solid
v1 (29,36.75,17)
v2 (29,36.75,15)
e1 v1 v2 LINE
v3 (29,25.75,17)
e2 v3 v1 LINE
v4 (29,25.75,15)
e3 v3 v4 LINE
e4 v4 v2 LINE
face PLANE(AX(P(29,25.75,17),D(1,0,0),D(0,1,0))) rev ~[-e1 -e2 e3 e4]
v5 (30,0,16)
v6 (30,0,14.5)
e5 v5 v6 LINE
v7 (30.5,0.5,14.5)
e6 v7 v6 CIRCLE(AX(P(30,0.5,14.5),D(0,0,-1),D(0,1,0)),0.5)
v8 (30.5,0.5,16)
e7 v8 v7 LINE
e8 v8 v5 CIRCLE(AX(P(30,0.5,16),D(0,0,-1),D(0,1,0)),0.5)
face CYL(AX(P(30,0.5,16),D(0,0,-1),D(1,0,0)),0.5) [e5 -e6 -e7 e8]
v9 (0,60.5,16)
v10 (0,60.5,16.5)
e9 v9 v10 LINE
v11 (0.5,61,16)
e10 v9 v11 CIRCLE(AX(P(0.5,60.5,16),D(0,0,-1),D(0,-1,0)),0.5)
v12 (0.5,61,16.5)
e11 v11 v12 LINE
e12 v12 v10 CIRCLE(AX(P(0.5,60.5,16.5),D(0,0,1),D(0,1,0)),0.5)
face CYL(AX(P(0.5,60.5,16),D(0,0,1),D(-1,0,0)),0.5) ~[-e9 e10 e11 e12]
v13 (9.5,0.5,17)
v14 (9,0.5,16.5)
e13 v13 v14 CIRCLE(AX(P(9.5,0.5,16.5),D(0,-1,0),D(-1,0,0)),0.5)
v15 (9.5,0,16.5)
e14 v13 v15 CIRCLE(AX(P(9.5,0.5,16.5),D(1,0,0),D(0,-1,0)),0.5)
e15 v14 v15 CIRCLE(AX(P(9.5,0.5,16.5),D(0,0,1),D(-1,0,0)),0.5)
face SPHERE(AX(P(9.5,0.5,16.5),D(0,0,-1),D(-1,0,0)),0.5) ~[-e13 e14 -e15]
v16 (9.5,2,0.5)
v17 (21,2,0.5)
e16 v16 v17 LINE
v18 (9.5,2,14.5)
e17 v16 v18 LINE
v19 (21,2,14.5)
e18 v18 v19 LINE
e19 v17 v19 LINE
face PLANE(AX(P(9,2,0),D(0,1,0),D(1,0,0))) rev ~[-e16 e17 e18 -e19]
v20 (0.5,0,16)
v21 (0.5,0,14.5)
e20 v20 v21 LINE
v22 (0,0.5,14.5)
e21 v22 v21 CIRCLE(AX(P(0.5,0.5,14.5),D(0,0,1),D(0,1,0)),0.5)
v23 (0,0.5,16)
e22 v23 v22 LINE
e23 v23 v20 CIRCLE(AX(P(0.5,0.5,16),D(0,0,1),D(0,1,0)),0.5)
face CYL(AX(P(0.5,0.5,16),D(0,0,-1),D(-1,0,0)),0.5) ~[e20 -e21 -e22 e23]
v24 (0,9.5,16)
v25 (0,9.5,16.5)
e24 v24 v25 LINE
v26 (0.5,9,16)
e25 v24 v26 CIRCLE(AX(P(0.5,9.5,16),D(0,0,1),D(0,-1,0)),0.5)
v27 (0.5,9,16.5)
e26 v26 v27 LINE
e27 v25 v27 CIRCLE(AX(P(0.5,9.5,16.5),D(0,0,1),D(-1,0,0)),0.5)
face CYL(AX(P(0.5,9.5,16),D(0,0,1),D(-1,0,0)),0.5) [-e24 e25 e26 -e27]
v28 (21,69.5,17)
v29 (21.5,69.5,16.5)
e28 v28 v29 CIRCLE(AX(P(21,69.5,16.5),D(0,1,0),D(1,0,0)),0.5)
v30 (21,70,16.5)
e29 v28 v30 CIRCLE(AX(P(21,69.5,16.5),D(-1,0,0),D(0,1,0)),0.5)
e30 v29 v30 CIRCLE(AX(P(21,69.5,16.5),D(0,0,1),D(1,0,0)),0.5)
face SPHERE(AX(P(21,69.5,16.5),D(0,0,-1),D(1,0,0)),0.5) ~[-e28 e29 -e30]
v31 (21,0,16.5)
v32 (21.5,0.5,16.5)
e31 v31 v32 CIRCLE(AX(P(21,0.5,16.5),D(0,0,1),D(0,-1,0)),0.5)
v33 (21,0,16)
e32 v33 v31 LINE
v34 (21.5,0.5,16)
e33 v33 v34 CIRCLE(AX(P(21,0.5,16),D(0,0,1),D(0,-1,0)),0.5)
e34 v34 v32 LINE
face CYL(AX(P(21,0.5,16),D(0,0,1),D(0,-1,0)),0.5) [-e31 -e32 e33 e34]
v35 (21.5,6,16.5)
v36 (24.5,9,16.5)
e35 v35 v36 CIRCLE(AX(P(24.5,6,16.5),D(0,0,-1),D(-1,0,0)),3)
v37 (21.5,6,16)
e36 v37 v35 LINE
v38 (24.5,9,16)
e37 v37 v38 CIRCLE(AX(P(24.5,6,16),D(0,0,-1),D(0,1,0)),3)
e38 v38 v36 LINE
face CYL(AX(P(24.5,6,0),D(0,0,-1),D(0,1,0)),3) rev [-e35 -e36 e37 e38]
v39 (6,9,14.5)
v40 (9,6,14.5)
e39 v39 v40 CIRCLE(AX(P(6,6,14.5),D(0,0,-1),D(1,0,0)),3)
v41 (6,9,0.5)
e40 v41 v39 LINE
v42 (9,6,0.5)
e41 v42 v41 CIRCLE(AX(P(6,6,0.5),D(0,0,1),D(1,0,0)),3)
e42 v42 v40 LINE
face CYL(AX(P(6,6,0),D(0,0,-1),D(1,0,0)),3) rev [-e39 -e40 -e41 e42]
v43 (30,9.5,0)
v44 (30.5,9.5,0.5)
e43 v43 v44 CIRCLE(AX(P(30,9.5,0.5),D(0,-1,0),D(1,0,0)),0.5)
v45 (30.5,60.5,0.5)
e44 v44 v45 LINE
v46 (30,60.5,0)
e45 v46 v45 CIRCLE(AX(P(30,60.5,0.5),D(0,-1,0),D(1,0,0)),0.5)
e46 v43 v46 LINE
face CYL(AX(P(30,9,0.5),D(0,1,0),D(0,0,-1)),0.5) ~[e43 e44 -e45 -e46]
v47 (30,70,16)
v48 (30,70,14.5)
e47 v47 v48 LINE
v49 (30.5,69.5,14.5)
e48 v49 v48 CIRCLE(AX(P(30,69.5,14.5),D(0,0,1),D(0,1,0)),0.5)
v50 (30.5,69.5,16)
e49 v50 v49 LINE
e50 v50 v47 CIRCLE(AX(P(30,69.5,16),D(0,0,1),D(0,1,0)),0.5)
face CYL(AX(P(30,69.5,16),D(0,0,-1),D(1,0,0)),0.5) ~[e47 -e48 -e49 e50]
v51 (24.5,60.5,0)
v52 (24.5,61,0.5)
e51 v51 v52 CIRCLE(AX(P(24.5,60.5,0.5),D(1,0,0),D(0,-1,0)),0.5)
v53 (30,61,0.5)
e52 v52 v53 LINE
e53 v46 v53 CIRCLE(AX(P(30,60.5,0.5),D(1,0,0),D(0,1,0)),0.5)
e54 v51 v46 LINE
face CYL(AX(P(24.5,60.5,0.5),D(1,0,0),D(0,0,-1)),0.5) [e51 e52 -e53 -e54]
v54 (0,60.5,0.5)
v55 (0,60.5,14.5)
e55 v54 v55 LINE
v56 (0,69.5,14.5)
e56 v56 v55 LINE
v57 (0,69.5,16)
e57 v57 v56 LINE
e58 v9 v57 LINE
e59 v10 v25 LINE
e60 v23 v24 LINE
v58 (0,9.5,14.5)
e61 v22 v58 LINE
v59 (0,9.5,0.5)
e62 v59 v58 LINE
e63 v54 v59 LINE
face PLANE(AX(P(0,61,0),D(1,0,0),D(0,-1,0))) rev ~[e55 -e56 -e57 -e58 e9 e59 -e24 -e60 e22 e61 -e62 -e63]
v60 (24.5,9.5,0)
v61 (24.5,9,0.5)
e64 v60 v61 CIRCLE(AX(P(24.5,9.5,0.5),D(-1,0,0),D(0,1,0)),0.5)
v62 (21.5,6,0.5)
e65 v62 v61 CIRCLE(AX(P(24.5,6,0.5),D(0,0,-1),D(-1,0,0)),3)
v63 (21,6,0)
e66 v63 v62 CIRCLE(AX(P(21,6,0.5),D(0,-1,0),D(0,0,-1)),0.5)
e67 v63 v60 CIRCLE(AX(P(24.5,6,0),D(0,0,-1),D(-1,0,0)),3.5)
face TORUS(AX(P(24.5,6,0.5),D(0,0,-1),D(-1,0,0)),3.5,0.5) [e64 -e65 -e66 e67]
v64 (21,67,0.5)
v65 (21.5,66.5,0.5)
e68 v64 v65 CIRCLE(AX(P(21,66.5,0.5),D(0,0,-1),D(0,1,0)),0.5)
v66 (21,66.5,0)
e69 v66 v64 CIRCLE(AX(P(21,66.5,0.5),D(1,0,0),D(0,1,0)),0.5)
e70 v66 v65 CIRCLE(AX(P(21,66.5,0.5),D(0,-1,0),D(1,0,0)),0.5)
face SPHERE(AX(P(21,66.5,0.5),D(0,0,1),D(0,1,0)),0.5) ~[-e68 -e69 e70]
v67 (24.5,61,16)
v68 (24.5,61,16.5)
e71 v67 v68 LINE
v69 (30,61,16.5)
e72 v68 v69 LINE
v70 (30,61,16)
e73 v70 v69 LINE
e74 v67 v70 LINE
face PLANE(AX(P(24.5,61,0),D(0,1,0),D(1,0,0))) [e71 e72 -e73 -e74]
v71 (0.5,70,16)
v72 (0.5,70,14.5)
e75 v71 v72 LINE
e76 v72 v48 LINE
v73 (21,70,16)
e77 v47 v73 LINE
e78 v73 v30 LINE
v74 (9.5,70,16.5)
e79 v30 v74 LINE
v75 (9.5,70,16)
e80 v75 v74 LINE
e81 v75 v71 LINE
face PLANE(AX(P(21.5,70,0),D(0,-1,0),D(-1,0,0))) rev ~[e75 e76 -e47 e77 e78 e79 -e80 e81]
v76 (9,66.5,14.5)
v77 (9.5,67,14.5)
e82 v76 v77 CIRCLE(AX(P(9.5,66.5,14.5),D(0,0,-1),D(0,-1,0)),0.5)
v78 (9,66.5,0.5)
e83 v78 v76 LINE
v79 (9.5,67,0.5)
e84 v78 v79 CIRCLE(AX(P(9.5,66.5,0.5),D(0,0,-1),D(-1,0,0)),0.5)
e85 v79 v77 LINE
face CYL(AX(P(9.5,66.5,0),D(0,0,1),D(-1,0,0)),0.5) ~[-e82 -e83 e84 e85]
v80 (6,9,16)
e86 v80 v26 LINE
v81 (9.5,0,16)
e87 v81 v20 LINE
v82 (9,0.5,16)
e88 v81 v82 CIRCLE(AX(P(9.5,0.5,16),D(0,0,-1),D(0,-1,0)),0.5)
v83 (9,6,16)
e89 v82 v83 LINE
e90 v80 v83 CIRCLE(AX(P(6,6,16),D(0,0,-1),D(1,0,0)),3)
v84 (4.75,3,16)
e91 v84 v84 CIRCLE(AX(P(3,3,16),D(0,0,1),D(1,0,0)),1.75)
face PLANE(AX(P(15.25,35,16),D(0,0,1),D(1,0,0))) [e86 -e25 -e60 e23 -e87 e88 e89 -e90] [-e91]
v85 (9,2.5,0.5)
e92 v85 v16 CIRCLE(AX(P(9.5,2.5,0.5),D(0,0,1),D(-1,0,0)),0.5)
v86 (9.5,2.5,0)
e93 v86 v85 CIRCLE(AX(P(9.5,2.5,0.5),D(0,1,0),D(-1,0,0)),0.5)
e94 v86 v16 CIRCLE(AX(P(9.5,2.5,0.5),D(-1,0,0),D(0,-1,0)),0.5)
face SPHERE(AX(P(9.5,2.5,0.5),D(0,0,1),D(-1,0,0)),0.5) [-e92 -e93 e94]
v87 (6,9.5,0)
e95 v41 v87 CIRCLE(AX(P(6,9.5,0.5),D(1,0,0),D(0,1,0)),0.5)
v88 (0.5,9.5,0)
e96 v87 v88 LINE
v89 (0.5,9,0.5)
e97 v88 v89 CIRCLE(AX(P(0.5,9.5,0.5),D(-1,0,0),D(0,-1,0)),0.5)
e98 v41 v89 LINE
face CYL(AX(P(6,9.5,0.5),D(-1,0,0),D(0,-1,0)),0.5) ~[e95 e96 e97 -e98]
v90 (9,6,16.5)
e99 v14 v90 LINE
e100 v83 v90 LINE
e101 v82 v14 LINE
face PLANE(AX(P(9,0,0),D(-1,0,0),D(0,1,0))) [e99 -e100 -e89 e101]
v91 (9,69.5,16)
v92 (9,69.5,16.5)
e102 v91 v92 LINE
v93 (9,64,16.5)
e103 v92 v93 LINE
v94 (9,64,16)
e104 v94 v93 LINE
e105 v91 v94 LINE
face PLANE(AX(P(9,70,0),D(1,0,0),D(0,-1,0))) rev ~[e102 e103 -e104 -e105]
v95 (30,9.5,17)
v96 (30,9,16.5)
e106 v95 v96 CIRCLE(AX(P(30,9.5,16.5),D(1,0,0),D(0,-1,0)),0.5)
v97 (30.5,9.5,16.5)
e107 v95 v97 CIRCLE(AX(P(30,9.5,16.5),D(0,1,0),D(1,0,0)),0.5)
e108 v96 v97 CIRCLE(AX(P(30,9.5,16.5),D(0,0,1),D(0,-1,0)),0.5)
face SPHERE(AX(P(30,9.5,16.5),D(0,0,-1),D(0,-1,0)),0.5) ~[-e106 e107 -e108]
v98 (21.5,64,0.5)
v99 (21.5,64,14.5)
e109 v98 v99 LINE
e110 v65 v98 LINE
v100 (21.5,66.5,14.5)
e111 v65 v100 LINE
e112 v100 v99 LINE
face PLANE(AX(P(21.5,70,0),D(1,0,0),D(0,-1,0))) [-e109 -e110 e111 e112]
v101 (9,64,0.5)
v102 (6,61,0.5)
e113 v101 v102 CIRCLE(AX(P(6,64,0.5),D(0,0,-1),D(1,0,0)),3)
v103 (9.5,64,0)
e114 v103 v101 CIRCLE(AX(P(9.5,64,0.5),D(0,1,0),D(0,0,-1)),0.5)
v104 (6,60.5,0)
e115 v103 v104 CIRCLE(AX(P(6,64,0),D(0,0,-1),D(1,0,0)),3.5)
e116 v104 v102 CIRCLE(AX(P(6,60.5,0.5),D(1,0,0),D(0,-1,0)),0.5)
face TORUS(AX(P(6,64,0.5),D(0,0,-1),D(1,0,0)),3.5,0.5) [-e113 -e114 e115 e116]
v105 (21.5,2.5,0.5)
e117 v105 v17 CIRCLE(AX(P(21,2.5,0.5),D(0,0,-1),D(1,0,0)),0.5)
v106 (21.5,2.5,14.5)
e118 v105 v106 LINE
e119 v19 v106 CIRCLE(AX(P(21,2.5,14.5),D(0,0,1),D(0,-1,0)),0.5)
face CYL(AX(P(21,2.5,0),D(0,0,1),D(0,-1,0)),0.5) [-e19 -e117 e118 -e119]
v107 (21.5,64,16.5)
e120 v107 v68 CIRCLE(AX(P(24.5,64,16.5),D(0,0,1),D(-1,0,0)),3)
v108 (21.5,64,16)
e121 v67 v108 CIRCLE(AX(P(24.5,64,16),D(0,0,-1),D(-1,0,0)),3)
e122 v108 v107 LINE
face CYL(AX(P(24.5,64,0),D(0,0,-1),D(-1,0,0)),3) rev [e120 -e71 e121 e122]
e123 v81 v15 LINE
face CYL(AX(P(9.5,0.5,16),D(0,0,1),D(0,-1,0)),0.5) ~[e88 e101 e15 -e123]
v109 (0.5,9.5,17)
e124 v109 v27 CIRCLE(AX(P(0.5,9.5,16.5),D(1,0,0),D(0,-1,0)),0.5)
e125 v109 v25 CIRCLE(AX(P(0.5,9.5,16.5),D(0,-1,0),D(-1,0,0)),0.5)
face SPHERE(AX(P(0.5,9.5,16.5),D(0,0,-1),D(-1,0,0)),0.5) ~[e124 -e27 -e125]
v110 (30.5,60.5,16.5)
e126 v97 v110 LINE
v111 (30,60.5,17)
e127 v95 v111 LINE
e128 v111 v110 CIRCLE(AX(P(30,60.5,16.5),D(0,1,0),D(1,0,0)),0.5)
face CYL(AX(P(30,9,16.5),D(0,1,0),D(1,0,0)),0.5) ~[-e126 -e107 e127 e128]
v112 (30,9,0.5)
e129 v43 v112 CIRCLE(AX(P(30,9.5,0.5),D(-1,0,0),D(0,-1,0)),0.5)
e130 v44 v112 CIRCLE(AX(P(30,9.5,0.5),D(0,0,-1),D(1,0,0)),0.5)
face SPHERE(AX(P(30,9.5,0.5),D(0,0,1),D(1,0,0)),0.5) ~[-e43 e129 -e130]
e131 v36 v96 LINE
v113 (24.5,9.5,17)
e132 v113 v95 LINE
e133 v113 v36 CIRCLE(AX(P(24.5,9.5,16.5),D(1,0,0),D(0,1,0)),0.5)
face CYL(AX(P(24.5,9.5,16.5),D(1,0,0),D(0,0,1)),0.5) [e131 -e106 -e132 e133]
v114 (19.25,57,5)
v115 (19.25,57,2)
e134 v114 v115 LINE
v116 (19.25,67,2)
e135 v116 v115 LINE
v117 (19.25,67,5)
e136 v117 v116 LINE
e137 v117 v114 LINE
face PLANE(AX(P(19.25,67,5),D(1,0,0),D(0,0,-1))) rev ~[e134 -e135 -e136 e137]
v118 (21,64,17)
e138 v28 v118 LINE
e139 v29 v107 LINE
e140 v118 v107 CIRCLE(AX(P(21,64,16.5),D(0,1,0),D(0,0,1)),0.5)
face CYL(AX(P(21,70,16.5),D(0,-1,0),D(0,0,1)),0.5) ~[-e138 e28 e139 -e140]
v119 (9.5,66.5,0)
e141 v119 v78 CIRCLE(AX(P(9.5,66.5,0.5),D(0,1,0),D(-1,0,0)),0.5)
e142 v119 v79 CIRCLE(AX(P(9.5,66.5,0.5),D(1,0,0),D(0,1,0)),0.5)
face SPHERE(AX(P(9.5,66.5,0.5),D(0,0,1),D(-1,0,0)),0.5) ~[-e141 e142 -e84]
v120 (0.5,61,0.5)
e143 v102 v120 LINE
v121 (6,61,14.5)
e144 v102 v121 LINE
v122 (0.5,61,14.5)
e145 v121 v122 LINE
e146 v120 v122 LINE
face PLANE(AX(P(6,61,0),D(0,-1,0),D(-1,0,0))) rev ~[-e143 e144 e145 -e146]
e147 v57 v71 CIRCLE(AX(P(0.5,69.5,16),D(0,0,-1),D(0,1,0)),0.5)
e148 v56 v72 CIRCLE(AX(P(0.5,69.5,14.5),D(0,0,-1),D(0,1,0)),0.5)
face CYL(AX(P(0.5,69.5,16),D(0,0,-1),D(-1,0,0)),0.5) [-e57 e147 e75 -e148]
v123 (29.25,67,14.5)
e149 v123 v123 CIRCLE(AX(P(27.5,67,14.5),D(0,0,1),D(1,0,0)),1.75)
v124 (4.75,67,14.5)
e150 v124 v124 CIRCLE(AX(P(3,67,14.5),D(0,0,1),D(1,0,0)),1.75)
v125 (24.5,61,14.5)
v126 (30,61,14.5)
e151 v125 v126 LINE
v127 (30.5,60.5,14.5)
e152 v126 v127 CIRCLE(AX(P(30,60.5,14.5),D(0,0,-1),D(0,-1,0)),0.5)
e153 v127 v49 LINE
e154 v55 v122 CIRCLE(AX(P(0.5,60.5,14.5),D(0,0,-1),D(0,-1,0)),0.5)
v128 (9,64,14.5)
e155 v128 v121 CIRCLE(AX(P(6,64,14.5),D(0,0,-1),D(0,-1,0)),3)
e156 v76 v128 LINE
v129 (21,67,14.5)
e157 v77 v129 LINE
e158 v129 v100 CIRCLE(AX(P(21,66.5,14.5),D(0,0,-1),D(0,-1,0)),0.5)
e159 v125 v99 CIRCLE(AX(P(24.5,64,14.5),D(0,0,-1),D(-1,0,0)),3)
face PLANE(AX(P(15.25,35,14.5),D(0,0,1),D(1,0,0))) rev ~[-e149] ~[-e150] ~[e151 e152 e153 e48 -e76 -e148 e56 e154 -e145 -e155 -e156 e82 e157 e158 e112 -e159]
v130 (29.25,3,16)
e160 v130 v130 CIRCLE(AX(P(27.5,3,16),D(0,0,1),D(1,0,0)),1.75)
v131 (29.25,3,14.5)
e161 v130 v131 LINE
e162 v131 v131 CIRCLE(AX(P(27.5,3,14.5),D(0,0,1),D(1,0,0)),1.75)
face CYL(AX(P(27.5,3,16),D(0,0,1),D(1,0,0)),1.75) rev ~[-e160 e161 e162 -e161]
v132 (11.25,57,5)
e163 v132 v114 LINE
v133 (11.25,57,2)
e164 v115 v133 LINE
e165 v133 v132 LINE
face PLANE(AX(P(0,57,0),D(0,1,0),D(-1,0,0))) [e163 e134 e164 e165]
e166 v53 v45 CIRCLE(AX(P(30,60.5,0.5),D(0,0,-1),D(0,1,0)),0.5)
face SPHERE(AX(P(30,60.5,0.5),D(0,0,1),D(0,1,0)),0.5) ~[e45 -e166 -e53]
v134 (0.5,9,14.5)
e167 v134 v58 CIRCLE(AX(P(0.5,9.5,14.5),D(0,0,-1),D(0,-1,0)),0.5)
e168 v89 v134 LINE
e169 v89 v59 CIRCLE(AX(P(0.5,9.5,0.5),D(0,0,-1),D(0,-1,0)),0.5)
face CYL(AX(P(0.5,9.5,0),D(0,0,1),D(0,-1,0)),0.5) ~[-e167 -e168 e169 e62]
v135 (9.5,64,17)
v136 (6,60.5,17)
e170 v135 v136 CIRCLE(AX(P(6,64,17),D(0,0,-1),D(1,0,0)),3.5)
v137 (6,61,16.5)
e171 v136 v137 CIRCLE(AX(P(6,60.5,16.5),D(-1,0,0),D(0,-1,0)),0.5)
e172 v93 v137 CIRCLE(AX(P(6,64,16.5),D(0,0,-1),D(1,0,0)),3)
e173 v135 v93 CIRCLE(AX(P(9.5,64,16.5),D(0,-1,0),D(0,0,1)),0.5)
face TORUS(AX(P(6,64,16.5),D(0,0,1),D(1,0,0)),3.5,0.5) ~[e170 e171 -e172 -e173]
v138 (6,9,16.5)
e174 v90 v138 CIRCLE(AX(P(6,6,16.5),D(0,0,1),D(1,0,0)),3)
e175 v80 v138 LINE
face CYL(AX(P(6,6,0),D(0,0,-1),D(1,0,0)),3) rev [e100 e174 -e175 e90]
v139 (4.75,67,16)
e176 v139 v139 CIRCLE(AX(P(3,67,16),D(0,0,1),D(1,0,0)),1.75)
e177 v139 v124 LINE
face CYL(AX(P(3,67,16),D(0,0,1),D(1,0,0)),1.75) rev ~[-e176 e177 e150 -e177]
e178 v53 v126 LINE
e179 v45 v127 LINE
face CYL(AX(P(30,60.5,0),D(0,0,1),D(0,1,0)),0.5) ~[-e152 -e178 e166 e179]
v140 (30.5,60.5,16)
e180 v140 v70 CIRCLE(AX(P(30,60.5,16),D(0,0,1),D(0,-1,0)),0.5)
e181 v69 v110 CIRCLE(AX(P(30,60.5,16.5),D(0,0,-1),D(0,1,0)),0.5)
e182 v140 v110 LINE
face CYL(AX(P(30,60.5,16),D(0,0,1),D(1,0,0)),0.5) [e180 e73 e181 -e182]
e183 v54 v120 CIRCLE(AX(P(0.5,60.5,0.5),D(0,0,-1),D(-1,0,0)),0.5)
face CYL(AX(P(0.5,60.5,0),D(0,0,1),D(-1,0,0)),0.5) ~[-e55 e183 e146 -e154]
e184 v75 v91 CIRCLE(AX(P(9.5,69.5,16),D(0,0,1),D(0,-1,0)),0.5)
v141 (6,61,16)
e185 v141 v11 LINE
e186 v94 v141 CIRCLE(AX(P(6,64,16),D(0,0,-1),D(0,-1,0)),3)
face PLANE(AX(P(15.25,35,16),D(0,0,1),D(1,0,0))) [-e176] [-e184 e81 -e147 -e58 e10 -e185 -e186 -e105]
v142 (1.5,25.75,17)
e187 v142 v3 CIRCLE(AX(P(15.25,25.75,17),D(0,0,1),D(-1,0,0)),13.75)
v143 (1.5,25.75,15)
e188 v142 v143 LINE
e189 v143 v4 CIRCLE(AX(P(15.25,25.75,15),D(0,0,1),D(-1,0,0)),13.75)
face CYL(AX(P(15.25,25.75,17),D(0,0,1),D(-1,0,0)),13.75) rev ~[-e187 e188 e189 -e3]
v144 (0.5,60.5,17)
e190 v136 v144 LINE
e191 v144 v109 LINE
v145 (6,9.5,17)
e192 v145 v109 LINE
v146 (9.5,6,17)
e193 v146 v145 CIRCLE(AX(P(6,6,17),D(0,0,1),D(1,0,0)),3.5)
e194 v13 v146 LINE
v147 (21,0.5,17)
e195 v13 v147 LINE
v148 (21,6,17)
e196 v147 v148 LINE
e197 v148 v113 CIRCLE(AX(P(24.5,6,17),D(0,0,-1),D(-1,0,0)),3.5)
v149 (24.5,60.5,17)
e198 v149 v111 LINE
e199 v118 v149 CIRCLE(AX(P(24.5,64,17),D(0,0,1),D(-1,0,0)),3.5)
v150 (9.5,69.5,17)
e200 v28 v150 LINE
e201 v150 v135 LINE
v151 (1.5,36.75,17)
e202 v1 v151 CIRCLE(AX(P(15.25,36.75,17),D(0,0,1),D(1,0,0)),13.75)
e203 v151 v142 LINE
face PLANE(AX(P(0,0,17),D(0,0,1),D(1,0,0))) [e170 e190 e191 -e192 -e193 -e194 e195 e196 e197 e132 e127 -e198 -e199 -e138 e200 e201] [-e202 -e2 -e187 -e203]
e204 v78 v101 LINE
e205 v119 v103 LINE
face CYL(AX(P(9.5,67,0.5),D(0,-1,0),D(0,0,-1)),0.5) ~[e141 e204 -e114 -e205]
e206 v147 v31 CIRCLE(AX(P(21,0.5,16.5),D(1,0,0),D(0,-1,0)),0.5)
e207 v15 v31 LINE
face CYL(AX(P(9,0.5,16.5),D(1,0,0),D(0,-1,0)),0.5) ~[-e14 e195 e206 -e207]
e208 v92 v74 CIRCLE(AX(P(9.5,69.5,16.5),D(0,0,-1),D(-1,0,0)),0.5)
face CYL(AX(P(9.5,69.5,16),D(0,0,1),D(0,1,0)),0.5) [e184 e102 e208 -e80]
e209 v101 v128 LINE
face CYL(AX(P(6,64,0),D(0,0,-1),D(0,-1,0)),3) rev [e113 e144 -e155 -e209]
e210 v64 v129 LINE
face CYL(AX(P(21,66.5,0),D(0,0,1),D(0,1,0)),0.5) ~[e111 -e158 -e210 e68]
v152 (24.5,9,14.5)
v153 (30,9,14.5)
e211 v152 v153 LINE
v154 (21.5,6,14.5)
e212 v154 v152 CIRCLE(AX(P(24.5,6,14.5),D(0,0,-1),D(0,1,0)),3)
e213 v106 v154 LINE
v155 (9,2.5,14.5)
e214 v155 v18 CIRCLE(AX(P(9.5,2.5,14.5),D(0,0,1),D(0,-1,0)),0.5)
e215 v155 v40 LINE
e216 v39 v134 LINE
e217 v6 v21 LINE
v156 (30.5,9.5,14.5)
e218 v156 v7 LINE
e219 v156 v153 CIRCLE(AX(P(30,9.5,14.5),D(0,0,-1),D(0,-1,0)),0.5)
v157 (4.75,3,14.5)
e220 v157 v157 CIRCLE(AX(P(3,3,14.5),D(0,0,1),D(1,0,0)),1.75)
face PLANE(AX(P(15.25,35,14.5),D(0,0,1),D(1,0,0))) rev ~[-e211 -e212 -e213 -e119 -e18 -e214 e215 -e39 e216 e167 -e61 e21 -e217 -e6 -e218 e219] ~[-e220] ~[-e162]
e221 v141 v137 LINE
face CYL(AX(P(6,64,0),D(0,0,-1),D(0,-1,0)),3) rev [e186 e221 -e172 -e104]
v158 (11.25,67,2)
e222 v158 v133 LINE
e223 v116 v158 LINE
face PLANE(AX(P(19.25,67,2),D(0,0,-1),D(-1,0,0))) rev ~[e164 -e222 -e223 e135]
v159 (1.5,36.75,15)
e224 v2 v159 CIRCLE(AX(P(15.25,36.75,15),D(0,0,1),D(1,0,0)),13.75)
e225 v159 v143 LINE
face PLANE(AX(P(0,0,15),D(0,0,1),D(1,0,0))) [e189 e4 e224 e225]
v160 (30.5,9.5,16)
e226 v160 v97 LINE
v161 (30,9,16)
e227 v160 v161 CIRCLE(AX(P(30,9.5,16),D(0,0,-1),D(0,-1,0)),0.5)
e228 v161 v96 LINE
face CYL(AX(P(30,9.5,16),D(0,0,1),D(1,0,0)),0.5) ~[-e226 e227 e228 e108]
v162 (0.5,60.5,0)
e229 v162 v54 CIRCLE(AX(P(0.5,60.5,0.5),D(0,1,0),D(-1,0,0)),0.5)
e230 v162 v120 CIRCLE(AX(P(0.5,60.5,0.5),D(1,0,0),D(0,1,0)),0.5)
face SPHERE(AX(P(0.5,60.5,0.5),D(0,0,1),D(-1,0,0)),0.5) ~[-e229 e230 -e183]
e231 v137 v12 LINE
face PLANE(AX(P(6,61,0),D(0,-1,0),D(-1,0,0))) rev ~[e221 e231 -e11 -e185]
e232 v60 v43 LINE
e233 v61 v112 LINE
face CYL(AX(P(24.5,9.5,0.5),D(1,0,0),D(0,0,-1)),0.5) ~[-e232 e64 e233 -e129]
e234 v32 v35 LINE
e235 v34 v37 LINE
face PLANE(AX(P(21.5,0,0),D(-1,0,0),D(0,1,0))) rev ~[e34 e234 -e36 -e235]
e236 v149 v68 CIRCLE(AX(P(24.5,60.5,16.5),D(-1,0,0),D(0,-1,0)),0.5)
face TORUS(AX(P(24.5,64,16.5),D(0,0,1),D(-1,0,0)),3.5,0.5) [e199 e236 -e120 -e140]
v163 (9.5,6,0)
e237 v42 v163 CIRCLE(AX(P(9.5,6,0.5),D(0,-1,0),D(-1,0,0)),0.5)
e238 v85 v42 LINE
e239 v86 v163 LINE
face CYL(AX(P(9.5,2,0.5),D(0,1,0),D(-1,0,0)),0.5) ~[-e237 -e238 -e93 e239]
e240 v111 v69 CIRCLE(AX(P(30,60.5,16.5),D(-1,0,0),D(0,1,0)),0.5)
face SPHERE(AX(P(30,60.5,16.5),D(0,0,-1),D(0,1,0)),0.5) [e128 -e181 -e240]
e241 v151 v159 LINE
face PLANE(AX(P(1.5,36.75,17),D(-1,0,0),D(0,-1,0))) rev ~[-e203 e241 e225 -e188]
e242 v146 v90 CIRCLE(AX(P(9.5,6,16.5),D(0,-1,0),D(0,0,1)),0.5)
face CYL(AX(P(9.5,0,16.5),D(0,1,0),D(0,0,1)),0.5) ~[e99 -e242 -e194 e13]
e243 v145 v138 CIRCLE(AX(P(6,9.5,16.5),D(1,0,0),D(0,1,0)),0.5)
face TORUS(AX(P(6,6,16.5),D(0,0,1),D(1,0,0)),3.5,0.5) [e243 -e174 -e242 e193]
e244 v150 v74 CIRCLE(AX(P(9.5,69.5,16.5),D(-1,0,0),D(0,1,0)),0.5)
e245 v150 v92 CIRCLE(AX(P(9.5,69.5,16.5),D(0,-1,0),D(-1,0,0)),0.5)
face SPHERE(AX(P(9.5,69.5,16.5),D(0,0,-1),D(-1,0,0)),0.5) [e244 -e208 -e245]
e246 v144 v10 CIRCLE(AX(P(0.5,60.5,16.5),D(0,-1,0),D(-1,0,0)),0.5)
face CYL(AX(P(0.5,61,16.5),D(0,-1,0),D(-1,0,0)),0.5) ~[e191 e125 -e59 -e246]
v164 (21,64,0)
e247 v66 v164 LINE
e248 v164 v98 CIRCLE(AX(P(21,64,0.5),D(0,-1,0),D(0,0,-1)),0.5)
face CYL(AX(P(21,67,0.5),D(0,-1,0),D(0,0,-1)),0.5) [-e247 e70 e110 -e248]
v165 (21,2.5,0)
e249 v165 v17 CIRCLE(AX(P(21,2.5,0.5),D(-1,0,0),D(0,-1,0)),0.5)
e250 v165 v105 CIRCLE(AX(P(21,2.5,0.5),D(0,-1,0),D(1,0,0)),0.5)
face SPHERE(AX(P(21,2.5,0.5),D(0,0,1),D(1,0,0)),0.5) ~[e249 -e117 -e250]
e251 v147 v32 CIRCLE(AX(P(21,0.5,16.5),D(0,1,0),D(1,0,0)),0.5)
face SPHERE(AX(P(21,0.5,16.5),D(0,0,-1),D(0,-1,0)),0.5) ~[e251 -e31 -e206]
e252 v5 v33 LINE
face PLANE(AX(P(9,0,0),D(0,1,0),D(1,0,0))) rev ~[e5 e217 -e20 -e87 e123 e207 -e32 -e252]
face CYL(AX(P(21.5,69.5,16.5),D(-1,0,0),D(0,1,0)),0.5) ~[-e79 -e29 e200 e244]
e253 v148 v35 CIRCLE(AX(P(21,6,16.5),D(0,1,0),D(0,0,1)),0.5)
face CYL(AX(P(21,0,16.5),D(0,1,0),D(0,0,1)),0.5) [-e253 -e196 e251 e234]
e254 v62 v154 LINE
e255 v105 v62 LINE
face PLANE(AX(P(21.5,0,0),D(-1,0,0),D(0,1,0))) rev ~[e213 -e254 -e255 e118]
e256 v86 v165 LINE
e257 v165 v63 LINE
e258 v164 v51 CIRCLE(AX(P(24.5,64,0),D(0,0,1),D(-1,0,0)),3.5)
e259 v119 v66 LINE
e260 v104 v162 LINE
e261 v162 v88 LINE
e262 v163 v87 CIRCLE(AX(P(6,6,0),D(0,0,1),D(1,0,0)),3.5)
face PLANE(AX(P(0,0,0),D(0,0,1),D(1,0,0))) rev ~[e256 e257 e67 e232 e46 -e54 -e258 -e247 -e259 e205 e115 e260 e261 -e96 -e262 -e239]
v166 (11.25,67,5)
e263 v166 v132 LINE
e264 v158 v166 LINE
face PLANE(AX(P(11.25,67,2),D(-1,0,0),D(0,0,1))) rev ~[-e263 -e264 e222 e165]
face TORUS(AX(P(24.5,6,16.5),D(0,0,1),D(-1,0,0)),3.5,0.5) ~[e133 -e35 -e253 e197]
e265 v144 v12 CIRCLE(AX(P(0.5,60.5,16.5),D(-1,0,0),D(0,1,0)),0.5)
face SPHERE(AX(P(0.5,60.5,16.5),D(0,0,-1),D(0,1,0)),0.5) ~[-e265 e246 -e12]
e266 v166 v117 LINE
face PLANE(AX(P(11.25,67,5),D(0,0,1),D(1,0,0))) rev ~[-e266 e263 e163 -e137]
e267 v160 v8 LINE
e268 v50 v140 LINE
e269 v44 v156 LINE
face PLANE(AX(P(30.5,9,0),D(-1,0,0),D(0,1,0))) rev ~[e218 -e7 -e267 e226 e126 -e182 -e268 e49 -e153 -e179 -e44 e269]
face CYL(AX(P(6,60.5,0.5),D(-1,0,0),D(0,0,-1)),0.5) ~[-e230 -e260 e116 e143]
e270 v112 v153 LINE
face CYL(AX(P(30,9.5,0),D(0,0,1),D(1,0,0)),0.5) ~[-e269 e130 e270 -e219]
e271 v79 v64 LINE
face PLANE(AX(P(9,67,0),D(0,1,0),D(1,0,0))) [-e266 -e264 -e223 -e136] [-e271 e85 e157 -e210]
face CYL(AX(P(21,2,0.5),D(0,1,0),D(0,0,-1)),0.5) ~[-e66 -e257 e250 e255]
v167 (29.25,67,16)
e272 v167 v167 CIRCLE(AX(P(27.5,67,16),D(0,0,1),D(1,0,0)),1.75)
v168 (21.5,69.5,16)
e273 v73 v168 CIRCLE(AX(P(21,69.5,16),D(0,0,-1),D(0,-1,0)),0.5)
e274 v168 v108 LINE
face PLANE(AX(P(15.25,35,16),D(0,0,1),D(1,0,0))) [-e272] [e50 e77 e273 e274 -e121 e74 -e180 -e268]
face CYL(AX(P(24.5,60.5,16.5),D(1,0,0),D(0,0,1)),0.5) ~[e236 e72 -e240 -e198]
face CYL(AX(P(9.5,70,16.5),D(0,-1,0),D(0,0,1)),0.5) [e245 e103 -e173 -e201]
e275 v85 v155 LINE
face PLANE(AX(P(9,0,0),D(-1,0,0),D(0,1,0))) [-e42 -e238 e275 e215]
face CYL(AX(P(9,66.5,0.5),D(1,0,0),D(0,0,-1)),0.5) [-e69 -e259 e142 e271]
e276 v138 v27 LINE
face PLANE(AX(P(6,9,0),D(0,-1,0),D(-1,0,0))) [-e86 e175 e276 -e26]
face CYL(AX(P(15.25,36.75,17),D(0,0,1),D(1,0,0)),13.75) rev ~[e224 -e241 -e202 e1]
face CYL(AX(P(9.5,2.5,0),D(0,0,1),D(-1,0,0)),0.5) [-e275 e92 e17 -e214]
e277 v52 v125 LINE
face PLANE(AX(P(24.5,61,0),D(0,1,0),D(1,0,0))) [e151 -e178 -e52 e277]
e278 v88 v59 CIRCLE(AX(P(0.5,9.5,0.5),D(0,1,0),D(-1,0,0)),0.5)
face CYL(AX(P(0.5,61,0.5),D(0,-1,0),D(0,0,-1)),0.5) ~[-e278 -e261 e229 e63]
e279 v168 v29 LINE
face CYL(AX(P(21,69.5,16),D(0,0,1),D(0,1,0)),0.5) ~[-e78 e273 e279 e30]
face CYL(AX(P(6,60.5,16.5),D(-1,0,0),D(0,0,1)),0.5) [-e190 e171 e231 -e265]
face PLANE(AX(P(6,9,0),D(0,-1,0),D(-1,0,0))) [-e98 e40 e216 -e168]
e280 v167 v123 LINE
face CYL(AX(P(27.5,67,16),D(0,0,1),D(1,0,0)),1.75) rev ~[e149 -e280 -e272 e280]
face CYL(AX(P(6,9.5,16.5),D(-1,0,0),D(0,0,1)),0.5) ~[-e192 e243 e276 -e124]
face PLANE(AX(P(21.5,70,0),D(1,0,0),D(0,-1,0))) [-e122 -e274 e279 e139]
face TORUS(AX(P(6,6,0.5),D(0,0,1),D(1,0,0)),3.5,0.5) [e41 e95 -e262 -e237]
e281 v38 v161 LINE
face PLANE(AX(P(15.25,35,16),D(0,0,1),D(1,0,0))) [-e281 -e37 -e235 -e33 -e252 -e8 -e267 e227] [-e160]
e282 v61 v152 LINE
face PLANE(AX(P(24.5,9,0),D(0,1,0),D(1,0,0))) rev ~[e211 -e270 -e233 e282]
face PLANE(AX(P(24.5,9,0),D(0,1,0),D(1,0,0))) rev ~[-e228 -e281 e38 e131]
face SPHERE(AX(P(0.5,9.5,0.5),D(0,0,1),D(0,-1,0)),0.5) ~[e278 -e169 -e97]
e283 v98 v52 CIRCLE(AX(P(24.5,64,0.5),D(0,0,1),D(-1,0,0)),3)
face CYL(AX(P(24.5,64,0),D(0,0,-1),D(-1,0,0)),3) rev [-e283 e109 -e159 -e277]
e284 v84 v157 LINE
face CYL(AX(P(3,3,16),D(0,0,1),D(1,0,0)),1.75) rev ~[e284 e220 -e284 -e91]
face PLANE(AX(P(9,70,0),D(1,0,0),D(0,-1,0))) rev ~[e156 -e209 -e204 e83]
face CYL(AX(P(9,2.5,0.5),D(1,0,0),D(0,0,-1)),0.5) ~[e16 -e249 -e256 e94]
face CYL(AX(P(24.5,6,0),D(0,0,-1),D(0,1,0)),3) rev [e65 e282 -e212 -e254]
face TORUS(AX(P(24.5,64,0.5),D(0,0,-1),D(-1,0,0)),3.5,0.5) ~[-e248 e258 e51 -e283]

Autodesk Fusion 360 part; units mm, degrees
sketch "Sketch1" plane through (0, 0, 0) normal (0, 0, 1) x (1, 0, 0)
  line L0 (0, 0) -> (30.5, 0)
  line L1 (30.5, 0) -> (30.5, 70)
  line L2 (30.5, 70) -> (0, 70)
  line L3 (0, 70) -> (0, 0)
  line L4 (0, 35) -> (30.5, 35) construction
  line L5 (15.25, 70) -> (15.25, 0) construction
  line L6 (0, 0) -> (9, 0)
  line L7 (9, 0) -> (9, 6)
  line L8 (6, 9) -> (0, 9)
  line L9 (0, 9) -> (0, 0)
  arc A0 (9, 6) -> (6, 9) centre (6, 6) ccw
  line L10 (21.5, 0) -> (21.5, 6)
  arc A1 (24.5, 9) -> (21.5, 6) centre (24.5, 6) ccw
  line L11 (24.5, 9) -> (30.5, 9)
  line L12 (9, 70) -> (9, 64)
  arc A2 (6, 61) -> (9, 64) centre (6, 64) ccw
  line L13 (6, 61) -> (0, 61)
  line L14 (21.5, 70) -> (21.5, 64)
  arc A3 (21.5, 64) -> (24.5, 61) centre (24.5, 64) ccw
  line L15 (24.5, 61) -> (30.5, 61)
  point P0 (15.25, 35)
  dimension "d1" = 70
  dimension "d2" = 30.5
  dimension "d3" = 15.25
  dimension "d4" = 35
  dimension "d5" = 9
  dimension "d6" = 9
  dimension "d7" = 3
extrude "Extrude1" add sketch "Sketch1" along normal blind 17 contours L0 L1 L2 L3 L7 L8 A0 L10 A1 L11 L12 A2 L13 L14 A3 L15
ref_plane "WorkPlane1" through (15.25, 35, 16) normal (0, 0, 1) x (1, 0, 0)
sketch "Sketch2" plane through (15.25, 35, 16) normal (0, 0, 1) x (1, 0, 0)
  line L0 (15.25, 35) -> (-15.25, 35)
  line L1 (-15.25, 35) -> (-15.25, -35)
  line L2 (-15.25, -35) -> (15.25, -35)
  line L3 (15.25, -35) -> (15.25, 35)
  line L4 (15.25, 35) -> (-15.25, -35) construction
  line L5 (-15.25, 35) -> (15.25, -35) construction
  circle A0 centre (-12.25, 32) radius 1.75
  line L6 (0, 35) -> (0, -35) construction
  line L7 (-15.25, 0) -> (15.25, 0) construction
  circle A1 centre (12.25, 32) radius 1.75
  circle A2 centre (-12.25, -32) radius 1.75
  circle A3 centre (12.25, -32) radius 1.75
  dimension "d13" = 30.5
  dimension "d14" = 70
  dimension "d33" = 3.5
  dimension "d34" = 12.25
  dimension "d35" = 32
extrude "Extrude2" add sketch "Sketch2" against normal blind 1.5
sketch "Sketch4" plane through (0, 0, 0) normal (0, 0, -1) x (-1, 0, 0)
  line L0 (-9, 70) -> (-21.5, 70)
  line L1 (-21.5, 70) -> (-21.5, 64)
  arc A0 (-24.5, 61) -> (-21.5, 64) centre (-24.5, 64) ccw
  line L2 (-24.5, 61) -> (-30.5, 61)
  line L3 (-30.5, 61) -> (-30.5, 9)
  line L4 (-30.5, 9) -> (-24.5, 9)
  arc A1 (-21.5, 6) -> (-24.5, 9) centre (-24.5, 6) ccw
  line L5 (-21.5, 6) -> (-21.5, 0)
  line L6 (-21.5, 0) -> (-9, 0)
  line L7 (-9, 0) -> (-9, 6)
  arc A2 (-6, 9) -> (-9, 6) centre (-6, 6) ccw
  line L8 (-6, 9) -> (0, 9)
  line L9 (0, 9) -> (0, 61)
  line L10 (0, 61) -> (-6, 61)
  arc A3 (-9, 64) -> (-6, 61) centre (-6, 64) ccw
  line L11 (-9, 64) -> (-9, 70)
  line L12 (-21.5, 70) -> (-9, 70)
  line L13 (-9, 70) -> (-9, 67)
  line L14 (-9, 67) -> (-21.5, 67)
  line L15 (-21.5, 67) -> (-21.5, 70)
  line L16 (-21.5, 0) -> (-9, 0)
  line L17 (-9, 0) -> (-9, 2)
  line L18 (-9, 2) -> (-21.5, 2)
  line L19 (-21.5, 2) -> (-21.5, 0)
  dimension "d19" = 3
  dimension "d20" = 12.5
  dimension "d21" = 2
extrude "Extrude3" cut sketch "Sketch4" against normal up to surface (14.5 mm away) contours L0 L1 L11 L12 L13 L14 L15 | L5 L6 L7 L16 L17 L18 L19
sketch "Sketch5" plane through (0, 0, 17) normal (0, 0, 1) x (1, 0, 0)
  line L0 (21.5, 70) -> (9, 70)
  line L1 (9, 70) -> (9, 64)
  arc A0 (6, 61) -> (9, 64) centre (6, 64) ccw
  line L2 (6, 61) -> (0, 61)
  line L3 (0, 61) -> (0, 9)
  line L4 (0, 9) -> (6, 9)
  arc A1 (9, 6) -> (6, 9) centre (6, 6) ccw
  line L5 (9, 6) -> (9, 0)
  line L6 (9, 0) -> (21.5, 0)
  line L7 (21.5, 0) -> (21.5, 6)
  arc A2 (24.5, 9) -> (21.5, 6) centre (24.5, 6) ccw
  line L8 (24.5, 9) -> (30.5, 9)
  line L9 (30.5, 9) -> (30.5, 61)
  line L10 (30.5, 61) -> (24.5, 61)
  arc A3 (21.5, 64) -> (24.5, 61) centre (24.5, 64) ccw
  line L11 (21.5, 64) -> (21.5, 70)
  line L12 (29, 25.75) -> (29, 36.75)
  arc A4 (29, 36.75) -> (1.5, 36.75) centre (15.25, 36.75) ccw
  line L13 (1.5, 36.75) -> (1.5, 25.75)
  arc A5 (1.5, 25.75) -> (29, 25.75) centre (15.25, 25.75) ccw
  line L14 (15.25, 25.75) -> (15.25, 36.75) construction
  dimension "d27" = 27.5
  dimension "d28" = 11
  dimension "d29" = 25.75
  dimension "d30" = 15.25
extrude "Extrude4" cut sketch "Sketch5" against normal blind 2 contours L12 A4 L13 A5
sketch "Sketch6" plane through (0, 67, 0) normal (0, 1, 0) x (-1, 0, 0)
  line L0 (-9, 14.5) -> (-21.5, 14.5)
  line L1 (-21.5, 14.5) -> (-21.5, 0)
  line L2 (-21.5, 0) -> (-9, 0)
  line L3 (-9, 0) -> (-9, 14.5)
  line L4 (-11.25, 5) -> (-19.25, 5)
  line L5 (-19.25, 5) -> (-19.25, 2)
  line L6 (-19.25, 2) -> (-11.25, 2)
  line L7 (-11.25, 2) -> (-11.25, 5)
  line L8 (-11.25, 5) -> (-19.25, 2) construction
  line L9 (-19.25, 5) -> (-11.25, 2) construction
  point P0 (-15.25, 3.5)
  dimension "d39" = 3
  dimension "d40" = 8
  dimension "d41" = 2
  dimension "d43" = 15.25
extrude "Extrude5" cut sketch "Sketch6" against normal blind 10 contours L4 L5 L6 L7
fillet "Fillet3" radius 0.5 4 edges at (30.5, 70, 15.25) (0, 70, 15.25) (0, 0, 15.25) (30.5, 0, 15.25)
fillet "Fillet3" radius 0.5 16 edges at (0, 9, 7.25) (0, 9, 16.5) (9, 0, 16.5) (9, 2, 7.25) (21.5, 2, 7.25) (21.5, 0, 16.5) (30.5, 9, 16.5) (30.5, 9, 7.25) (30.5, 61, 16.5) (30.5, 61, 7.25) (21.5, 67, 7.25) (21.5, 70, 16.5) (9, 70, 16.5) (9, 67, 7.25) (0, 61, 7.25) (0, 61, 16.5)
fillet "Fillet3" radius 0.5 16 edges at (27.5, 61, 17) (22.3787, 61.8787, 17) (21.5, 67, 17) (9, 67, 17) (8.1213, 61.8787, 17) (3, 61, 17) (15.25, 70, 17) (0, 35, 17) (3, 9, 17) (8.1213, 8.1213, 17) (9, 3, 17) (15.25, 0, 17) (21.5, 3, 17) (22.3787, 8.1213, 17) (27.5, 9, 17) (30.5, 35, 17) 1 faces at (18.0516, 43.7072, 0)
equation "d28 = 38.5 mm - 27.5 mm"
equation "d29 = 12 mm + ( ( 27.5 / 2 ) * 1 mm )"
equation "d30 = ( 30.5 / 2 ) * 1 mm"
equation "d34 = ( ( 21 + 3.5 ) / 2 ) * 1 mm"
equation "d35 = ( ( 60.5 + 3.5 ) / 2 ) * 1 mm"
equation "d43 = ( 30.5 / 2 ) * 1 mm"
